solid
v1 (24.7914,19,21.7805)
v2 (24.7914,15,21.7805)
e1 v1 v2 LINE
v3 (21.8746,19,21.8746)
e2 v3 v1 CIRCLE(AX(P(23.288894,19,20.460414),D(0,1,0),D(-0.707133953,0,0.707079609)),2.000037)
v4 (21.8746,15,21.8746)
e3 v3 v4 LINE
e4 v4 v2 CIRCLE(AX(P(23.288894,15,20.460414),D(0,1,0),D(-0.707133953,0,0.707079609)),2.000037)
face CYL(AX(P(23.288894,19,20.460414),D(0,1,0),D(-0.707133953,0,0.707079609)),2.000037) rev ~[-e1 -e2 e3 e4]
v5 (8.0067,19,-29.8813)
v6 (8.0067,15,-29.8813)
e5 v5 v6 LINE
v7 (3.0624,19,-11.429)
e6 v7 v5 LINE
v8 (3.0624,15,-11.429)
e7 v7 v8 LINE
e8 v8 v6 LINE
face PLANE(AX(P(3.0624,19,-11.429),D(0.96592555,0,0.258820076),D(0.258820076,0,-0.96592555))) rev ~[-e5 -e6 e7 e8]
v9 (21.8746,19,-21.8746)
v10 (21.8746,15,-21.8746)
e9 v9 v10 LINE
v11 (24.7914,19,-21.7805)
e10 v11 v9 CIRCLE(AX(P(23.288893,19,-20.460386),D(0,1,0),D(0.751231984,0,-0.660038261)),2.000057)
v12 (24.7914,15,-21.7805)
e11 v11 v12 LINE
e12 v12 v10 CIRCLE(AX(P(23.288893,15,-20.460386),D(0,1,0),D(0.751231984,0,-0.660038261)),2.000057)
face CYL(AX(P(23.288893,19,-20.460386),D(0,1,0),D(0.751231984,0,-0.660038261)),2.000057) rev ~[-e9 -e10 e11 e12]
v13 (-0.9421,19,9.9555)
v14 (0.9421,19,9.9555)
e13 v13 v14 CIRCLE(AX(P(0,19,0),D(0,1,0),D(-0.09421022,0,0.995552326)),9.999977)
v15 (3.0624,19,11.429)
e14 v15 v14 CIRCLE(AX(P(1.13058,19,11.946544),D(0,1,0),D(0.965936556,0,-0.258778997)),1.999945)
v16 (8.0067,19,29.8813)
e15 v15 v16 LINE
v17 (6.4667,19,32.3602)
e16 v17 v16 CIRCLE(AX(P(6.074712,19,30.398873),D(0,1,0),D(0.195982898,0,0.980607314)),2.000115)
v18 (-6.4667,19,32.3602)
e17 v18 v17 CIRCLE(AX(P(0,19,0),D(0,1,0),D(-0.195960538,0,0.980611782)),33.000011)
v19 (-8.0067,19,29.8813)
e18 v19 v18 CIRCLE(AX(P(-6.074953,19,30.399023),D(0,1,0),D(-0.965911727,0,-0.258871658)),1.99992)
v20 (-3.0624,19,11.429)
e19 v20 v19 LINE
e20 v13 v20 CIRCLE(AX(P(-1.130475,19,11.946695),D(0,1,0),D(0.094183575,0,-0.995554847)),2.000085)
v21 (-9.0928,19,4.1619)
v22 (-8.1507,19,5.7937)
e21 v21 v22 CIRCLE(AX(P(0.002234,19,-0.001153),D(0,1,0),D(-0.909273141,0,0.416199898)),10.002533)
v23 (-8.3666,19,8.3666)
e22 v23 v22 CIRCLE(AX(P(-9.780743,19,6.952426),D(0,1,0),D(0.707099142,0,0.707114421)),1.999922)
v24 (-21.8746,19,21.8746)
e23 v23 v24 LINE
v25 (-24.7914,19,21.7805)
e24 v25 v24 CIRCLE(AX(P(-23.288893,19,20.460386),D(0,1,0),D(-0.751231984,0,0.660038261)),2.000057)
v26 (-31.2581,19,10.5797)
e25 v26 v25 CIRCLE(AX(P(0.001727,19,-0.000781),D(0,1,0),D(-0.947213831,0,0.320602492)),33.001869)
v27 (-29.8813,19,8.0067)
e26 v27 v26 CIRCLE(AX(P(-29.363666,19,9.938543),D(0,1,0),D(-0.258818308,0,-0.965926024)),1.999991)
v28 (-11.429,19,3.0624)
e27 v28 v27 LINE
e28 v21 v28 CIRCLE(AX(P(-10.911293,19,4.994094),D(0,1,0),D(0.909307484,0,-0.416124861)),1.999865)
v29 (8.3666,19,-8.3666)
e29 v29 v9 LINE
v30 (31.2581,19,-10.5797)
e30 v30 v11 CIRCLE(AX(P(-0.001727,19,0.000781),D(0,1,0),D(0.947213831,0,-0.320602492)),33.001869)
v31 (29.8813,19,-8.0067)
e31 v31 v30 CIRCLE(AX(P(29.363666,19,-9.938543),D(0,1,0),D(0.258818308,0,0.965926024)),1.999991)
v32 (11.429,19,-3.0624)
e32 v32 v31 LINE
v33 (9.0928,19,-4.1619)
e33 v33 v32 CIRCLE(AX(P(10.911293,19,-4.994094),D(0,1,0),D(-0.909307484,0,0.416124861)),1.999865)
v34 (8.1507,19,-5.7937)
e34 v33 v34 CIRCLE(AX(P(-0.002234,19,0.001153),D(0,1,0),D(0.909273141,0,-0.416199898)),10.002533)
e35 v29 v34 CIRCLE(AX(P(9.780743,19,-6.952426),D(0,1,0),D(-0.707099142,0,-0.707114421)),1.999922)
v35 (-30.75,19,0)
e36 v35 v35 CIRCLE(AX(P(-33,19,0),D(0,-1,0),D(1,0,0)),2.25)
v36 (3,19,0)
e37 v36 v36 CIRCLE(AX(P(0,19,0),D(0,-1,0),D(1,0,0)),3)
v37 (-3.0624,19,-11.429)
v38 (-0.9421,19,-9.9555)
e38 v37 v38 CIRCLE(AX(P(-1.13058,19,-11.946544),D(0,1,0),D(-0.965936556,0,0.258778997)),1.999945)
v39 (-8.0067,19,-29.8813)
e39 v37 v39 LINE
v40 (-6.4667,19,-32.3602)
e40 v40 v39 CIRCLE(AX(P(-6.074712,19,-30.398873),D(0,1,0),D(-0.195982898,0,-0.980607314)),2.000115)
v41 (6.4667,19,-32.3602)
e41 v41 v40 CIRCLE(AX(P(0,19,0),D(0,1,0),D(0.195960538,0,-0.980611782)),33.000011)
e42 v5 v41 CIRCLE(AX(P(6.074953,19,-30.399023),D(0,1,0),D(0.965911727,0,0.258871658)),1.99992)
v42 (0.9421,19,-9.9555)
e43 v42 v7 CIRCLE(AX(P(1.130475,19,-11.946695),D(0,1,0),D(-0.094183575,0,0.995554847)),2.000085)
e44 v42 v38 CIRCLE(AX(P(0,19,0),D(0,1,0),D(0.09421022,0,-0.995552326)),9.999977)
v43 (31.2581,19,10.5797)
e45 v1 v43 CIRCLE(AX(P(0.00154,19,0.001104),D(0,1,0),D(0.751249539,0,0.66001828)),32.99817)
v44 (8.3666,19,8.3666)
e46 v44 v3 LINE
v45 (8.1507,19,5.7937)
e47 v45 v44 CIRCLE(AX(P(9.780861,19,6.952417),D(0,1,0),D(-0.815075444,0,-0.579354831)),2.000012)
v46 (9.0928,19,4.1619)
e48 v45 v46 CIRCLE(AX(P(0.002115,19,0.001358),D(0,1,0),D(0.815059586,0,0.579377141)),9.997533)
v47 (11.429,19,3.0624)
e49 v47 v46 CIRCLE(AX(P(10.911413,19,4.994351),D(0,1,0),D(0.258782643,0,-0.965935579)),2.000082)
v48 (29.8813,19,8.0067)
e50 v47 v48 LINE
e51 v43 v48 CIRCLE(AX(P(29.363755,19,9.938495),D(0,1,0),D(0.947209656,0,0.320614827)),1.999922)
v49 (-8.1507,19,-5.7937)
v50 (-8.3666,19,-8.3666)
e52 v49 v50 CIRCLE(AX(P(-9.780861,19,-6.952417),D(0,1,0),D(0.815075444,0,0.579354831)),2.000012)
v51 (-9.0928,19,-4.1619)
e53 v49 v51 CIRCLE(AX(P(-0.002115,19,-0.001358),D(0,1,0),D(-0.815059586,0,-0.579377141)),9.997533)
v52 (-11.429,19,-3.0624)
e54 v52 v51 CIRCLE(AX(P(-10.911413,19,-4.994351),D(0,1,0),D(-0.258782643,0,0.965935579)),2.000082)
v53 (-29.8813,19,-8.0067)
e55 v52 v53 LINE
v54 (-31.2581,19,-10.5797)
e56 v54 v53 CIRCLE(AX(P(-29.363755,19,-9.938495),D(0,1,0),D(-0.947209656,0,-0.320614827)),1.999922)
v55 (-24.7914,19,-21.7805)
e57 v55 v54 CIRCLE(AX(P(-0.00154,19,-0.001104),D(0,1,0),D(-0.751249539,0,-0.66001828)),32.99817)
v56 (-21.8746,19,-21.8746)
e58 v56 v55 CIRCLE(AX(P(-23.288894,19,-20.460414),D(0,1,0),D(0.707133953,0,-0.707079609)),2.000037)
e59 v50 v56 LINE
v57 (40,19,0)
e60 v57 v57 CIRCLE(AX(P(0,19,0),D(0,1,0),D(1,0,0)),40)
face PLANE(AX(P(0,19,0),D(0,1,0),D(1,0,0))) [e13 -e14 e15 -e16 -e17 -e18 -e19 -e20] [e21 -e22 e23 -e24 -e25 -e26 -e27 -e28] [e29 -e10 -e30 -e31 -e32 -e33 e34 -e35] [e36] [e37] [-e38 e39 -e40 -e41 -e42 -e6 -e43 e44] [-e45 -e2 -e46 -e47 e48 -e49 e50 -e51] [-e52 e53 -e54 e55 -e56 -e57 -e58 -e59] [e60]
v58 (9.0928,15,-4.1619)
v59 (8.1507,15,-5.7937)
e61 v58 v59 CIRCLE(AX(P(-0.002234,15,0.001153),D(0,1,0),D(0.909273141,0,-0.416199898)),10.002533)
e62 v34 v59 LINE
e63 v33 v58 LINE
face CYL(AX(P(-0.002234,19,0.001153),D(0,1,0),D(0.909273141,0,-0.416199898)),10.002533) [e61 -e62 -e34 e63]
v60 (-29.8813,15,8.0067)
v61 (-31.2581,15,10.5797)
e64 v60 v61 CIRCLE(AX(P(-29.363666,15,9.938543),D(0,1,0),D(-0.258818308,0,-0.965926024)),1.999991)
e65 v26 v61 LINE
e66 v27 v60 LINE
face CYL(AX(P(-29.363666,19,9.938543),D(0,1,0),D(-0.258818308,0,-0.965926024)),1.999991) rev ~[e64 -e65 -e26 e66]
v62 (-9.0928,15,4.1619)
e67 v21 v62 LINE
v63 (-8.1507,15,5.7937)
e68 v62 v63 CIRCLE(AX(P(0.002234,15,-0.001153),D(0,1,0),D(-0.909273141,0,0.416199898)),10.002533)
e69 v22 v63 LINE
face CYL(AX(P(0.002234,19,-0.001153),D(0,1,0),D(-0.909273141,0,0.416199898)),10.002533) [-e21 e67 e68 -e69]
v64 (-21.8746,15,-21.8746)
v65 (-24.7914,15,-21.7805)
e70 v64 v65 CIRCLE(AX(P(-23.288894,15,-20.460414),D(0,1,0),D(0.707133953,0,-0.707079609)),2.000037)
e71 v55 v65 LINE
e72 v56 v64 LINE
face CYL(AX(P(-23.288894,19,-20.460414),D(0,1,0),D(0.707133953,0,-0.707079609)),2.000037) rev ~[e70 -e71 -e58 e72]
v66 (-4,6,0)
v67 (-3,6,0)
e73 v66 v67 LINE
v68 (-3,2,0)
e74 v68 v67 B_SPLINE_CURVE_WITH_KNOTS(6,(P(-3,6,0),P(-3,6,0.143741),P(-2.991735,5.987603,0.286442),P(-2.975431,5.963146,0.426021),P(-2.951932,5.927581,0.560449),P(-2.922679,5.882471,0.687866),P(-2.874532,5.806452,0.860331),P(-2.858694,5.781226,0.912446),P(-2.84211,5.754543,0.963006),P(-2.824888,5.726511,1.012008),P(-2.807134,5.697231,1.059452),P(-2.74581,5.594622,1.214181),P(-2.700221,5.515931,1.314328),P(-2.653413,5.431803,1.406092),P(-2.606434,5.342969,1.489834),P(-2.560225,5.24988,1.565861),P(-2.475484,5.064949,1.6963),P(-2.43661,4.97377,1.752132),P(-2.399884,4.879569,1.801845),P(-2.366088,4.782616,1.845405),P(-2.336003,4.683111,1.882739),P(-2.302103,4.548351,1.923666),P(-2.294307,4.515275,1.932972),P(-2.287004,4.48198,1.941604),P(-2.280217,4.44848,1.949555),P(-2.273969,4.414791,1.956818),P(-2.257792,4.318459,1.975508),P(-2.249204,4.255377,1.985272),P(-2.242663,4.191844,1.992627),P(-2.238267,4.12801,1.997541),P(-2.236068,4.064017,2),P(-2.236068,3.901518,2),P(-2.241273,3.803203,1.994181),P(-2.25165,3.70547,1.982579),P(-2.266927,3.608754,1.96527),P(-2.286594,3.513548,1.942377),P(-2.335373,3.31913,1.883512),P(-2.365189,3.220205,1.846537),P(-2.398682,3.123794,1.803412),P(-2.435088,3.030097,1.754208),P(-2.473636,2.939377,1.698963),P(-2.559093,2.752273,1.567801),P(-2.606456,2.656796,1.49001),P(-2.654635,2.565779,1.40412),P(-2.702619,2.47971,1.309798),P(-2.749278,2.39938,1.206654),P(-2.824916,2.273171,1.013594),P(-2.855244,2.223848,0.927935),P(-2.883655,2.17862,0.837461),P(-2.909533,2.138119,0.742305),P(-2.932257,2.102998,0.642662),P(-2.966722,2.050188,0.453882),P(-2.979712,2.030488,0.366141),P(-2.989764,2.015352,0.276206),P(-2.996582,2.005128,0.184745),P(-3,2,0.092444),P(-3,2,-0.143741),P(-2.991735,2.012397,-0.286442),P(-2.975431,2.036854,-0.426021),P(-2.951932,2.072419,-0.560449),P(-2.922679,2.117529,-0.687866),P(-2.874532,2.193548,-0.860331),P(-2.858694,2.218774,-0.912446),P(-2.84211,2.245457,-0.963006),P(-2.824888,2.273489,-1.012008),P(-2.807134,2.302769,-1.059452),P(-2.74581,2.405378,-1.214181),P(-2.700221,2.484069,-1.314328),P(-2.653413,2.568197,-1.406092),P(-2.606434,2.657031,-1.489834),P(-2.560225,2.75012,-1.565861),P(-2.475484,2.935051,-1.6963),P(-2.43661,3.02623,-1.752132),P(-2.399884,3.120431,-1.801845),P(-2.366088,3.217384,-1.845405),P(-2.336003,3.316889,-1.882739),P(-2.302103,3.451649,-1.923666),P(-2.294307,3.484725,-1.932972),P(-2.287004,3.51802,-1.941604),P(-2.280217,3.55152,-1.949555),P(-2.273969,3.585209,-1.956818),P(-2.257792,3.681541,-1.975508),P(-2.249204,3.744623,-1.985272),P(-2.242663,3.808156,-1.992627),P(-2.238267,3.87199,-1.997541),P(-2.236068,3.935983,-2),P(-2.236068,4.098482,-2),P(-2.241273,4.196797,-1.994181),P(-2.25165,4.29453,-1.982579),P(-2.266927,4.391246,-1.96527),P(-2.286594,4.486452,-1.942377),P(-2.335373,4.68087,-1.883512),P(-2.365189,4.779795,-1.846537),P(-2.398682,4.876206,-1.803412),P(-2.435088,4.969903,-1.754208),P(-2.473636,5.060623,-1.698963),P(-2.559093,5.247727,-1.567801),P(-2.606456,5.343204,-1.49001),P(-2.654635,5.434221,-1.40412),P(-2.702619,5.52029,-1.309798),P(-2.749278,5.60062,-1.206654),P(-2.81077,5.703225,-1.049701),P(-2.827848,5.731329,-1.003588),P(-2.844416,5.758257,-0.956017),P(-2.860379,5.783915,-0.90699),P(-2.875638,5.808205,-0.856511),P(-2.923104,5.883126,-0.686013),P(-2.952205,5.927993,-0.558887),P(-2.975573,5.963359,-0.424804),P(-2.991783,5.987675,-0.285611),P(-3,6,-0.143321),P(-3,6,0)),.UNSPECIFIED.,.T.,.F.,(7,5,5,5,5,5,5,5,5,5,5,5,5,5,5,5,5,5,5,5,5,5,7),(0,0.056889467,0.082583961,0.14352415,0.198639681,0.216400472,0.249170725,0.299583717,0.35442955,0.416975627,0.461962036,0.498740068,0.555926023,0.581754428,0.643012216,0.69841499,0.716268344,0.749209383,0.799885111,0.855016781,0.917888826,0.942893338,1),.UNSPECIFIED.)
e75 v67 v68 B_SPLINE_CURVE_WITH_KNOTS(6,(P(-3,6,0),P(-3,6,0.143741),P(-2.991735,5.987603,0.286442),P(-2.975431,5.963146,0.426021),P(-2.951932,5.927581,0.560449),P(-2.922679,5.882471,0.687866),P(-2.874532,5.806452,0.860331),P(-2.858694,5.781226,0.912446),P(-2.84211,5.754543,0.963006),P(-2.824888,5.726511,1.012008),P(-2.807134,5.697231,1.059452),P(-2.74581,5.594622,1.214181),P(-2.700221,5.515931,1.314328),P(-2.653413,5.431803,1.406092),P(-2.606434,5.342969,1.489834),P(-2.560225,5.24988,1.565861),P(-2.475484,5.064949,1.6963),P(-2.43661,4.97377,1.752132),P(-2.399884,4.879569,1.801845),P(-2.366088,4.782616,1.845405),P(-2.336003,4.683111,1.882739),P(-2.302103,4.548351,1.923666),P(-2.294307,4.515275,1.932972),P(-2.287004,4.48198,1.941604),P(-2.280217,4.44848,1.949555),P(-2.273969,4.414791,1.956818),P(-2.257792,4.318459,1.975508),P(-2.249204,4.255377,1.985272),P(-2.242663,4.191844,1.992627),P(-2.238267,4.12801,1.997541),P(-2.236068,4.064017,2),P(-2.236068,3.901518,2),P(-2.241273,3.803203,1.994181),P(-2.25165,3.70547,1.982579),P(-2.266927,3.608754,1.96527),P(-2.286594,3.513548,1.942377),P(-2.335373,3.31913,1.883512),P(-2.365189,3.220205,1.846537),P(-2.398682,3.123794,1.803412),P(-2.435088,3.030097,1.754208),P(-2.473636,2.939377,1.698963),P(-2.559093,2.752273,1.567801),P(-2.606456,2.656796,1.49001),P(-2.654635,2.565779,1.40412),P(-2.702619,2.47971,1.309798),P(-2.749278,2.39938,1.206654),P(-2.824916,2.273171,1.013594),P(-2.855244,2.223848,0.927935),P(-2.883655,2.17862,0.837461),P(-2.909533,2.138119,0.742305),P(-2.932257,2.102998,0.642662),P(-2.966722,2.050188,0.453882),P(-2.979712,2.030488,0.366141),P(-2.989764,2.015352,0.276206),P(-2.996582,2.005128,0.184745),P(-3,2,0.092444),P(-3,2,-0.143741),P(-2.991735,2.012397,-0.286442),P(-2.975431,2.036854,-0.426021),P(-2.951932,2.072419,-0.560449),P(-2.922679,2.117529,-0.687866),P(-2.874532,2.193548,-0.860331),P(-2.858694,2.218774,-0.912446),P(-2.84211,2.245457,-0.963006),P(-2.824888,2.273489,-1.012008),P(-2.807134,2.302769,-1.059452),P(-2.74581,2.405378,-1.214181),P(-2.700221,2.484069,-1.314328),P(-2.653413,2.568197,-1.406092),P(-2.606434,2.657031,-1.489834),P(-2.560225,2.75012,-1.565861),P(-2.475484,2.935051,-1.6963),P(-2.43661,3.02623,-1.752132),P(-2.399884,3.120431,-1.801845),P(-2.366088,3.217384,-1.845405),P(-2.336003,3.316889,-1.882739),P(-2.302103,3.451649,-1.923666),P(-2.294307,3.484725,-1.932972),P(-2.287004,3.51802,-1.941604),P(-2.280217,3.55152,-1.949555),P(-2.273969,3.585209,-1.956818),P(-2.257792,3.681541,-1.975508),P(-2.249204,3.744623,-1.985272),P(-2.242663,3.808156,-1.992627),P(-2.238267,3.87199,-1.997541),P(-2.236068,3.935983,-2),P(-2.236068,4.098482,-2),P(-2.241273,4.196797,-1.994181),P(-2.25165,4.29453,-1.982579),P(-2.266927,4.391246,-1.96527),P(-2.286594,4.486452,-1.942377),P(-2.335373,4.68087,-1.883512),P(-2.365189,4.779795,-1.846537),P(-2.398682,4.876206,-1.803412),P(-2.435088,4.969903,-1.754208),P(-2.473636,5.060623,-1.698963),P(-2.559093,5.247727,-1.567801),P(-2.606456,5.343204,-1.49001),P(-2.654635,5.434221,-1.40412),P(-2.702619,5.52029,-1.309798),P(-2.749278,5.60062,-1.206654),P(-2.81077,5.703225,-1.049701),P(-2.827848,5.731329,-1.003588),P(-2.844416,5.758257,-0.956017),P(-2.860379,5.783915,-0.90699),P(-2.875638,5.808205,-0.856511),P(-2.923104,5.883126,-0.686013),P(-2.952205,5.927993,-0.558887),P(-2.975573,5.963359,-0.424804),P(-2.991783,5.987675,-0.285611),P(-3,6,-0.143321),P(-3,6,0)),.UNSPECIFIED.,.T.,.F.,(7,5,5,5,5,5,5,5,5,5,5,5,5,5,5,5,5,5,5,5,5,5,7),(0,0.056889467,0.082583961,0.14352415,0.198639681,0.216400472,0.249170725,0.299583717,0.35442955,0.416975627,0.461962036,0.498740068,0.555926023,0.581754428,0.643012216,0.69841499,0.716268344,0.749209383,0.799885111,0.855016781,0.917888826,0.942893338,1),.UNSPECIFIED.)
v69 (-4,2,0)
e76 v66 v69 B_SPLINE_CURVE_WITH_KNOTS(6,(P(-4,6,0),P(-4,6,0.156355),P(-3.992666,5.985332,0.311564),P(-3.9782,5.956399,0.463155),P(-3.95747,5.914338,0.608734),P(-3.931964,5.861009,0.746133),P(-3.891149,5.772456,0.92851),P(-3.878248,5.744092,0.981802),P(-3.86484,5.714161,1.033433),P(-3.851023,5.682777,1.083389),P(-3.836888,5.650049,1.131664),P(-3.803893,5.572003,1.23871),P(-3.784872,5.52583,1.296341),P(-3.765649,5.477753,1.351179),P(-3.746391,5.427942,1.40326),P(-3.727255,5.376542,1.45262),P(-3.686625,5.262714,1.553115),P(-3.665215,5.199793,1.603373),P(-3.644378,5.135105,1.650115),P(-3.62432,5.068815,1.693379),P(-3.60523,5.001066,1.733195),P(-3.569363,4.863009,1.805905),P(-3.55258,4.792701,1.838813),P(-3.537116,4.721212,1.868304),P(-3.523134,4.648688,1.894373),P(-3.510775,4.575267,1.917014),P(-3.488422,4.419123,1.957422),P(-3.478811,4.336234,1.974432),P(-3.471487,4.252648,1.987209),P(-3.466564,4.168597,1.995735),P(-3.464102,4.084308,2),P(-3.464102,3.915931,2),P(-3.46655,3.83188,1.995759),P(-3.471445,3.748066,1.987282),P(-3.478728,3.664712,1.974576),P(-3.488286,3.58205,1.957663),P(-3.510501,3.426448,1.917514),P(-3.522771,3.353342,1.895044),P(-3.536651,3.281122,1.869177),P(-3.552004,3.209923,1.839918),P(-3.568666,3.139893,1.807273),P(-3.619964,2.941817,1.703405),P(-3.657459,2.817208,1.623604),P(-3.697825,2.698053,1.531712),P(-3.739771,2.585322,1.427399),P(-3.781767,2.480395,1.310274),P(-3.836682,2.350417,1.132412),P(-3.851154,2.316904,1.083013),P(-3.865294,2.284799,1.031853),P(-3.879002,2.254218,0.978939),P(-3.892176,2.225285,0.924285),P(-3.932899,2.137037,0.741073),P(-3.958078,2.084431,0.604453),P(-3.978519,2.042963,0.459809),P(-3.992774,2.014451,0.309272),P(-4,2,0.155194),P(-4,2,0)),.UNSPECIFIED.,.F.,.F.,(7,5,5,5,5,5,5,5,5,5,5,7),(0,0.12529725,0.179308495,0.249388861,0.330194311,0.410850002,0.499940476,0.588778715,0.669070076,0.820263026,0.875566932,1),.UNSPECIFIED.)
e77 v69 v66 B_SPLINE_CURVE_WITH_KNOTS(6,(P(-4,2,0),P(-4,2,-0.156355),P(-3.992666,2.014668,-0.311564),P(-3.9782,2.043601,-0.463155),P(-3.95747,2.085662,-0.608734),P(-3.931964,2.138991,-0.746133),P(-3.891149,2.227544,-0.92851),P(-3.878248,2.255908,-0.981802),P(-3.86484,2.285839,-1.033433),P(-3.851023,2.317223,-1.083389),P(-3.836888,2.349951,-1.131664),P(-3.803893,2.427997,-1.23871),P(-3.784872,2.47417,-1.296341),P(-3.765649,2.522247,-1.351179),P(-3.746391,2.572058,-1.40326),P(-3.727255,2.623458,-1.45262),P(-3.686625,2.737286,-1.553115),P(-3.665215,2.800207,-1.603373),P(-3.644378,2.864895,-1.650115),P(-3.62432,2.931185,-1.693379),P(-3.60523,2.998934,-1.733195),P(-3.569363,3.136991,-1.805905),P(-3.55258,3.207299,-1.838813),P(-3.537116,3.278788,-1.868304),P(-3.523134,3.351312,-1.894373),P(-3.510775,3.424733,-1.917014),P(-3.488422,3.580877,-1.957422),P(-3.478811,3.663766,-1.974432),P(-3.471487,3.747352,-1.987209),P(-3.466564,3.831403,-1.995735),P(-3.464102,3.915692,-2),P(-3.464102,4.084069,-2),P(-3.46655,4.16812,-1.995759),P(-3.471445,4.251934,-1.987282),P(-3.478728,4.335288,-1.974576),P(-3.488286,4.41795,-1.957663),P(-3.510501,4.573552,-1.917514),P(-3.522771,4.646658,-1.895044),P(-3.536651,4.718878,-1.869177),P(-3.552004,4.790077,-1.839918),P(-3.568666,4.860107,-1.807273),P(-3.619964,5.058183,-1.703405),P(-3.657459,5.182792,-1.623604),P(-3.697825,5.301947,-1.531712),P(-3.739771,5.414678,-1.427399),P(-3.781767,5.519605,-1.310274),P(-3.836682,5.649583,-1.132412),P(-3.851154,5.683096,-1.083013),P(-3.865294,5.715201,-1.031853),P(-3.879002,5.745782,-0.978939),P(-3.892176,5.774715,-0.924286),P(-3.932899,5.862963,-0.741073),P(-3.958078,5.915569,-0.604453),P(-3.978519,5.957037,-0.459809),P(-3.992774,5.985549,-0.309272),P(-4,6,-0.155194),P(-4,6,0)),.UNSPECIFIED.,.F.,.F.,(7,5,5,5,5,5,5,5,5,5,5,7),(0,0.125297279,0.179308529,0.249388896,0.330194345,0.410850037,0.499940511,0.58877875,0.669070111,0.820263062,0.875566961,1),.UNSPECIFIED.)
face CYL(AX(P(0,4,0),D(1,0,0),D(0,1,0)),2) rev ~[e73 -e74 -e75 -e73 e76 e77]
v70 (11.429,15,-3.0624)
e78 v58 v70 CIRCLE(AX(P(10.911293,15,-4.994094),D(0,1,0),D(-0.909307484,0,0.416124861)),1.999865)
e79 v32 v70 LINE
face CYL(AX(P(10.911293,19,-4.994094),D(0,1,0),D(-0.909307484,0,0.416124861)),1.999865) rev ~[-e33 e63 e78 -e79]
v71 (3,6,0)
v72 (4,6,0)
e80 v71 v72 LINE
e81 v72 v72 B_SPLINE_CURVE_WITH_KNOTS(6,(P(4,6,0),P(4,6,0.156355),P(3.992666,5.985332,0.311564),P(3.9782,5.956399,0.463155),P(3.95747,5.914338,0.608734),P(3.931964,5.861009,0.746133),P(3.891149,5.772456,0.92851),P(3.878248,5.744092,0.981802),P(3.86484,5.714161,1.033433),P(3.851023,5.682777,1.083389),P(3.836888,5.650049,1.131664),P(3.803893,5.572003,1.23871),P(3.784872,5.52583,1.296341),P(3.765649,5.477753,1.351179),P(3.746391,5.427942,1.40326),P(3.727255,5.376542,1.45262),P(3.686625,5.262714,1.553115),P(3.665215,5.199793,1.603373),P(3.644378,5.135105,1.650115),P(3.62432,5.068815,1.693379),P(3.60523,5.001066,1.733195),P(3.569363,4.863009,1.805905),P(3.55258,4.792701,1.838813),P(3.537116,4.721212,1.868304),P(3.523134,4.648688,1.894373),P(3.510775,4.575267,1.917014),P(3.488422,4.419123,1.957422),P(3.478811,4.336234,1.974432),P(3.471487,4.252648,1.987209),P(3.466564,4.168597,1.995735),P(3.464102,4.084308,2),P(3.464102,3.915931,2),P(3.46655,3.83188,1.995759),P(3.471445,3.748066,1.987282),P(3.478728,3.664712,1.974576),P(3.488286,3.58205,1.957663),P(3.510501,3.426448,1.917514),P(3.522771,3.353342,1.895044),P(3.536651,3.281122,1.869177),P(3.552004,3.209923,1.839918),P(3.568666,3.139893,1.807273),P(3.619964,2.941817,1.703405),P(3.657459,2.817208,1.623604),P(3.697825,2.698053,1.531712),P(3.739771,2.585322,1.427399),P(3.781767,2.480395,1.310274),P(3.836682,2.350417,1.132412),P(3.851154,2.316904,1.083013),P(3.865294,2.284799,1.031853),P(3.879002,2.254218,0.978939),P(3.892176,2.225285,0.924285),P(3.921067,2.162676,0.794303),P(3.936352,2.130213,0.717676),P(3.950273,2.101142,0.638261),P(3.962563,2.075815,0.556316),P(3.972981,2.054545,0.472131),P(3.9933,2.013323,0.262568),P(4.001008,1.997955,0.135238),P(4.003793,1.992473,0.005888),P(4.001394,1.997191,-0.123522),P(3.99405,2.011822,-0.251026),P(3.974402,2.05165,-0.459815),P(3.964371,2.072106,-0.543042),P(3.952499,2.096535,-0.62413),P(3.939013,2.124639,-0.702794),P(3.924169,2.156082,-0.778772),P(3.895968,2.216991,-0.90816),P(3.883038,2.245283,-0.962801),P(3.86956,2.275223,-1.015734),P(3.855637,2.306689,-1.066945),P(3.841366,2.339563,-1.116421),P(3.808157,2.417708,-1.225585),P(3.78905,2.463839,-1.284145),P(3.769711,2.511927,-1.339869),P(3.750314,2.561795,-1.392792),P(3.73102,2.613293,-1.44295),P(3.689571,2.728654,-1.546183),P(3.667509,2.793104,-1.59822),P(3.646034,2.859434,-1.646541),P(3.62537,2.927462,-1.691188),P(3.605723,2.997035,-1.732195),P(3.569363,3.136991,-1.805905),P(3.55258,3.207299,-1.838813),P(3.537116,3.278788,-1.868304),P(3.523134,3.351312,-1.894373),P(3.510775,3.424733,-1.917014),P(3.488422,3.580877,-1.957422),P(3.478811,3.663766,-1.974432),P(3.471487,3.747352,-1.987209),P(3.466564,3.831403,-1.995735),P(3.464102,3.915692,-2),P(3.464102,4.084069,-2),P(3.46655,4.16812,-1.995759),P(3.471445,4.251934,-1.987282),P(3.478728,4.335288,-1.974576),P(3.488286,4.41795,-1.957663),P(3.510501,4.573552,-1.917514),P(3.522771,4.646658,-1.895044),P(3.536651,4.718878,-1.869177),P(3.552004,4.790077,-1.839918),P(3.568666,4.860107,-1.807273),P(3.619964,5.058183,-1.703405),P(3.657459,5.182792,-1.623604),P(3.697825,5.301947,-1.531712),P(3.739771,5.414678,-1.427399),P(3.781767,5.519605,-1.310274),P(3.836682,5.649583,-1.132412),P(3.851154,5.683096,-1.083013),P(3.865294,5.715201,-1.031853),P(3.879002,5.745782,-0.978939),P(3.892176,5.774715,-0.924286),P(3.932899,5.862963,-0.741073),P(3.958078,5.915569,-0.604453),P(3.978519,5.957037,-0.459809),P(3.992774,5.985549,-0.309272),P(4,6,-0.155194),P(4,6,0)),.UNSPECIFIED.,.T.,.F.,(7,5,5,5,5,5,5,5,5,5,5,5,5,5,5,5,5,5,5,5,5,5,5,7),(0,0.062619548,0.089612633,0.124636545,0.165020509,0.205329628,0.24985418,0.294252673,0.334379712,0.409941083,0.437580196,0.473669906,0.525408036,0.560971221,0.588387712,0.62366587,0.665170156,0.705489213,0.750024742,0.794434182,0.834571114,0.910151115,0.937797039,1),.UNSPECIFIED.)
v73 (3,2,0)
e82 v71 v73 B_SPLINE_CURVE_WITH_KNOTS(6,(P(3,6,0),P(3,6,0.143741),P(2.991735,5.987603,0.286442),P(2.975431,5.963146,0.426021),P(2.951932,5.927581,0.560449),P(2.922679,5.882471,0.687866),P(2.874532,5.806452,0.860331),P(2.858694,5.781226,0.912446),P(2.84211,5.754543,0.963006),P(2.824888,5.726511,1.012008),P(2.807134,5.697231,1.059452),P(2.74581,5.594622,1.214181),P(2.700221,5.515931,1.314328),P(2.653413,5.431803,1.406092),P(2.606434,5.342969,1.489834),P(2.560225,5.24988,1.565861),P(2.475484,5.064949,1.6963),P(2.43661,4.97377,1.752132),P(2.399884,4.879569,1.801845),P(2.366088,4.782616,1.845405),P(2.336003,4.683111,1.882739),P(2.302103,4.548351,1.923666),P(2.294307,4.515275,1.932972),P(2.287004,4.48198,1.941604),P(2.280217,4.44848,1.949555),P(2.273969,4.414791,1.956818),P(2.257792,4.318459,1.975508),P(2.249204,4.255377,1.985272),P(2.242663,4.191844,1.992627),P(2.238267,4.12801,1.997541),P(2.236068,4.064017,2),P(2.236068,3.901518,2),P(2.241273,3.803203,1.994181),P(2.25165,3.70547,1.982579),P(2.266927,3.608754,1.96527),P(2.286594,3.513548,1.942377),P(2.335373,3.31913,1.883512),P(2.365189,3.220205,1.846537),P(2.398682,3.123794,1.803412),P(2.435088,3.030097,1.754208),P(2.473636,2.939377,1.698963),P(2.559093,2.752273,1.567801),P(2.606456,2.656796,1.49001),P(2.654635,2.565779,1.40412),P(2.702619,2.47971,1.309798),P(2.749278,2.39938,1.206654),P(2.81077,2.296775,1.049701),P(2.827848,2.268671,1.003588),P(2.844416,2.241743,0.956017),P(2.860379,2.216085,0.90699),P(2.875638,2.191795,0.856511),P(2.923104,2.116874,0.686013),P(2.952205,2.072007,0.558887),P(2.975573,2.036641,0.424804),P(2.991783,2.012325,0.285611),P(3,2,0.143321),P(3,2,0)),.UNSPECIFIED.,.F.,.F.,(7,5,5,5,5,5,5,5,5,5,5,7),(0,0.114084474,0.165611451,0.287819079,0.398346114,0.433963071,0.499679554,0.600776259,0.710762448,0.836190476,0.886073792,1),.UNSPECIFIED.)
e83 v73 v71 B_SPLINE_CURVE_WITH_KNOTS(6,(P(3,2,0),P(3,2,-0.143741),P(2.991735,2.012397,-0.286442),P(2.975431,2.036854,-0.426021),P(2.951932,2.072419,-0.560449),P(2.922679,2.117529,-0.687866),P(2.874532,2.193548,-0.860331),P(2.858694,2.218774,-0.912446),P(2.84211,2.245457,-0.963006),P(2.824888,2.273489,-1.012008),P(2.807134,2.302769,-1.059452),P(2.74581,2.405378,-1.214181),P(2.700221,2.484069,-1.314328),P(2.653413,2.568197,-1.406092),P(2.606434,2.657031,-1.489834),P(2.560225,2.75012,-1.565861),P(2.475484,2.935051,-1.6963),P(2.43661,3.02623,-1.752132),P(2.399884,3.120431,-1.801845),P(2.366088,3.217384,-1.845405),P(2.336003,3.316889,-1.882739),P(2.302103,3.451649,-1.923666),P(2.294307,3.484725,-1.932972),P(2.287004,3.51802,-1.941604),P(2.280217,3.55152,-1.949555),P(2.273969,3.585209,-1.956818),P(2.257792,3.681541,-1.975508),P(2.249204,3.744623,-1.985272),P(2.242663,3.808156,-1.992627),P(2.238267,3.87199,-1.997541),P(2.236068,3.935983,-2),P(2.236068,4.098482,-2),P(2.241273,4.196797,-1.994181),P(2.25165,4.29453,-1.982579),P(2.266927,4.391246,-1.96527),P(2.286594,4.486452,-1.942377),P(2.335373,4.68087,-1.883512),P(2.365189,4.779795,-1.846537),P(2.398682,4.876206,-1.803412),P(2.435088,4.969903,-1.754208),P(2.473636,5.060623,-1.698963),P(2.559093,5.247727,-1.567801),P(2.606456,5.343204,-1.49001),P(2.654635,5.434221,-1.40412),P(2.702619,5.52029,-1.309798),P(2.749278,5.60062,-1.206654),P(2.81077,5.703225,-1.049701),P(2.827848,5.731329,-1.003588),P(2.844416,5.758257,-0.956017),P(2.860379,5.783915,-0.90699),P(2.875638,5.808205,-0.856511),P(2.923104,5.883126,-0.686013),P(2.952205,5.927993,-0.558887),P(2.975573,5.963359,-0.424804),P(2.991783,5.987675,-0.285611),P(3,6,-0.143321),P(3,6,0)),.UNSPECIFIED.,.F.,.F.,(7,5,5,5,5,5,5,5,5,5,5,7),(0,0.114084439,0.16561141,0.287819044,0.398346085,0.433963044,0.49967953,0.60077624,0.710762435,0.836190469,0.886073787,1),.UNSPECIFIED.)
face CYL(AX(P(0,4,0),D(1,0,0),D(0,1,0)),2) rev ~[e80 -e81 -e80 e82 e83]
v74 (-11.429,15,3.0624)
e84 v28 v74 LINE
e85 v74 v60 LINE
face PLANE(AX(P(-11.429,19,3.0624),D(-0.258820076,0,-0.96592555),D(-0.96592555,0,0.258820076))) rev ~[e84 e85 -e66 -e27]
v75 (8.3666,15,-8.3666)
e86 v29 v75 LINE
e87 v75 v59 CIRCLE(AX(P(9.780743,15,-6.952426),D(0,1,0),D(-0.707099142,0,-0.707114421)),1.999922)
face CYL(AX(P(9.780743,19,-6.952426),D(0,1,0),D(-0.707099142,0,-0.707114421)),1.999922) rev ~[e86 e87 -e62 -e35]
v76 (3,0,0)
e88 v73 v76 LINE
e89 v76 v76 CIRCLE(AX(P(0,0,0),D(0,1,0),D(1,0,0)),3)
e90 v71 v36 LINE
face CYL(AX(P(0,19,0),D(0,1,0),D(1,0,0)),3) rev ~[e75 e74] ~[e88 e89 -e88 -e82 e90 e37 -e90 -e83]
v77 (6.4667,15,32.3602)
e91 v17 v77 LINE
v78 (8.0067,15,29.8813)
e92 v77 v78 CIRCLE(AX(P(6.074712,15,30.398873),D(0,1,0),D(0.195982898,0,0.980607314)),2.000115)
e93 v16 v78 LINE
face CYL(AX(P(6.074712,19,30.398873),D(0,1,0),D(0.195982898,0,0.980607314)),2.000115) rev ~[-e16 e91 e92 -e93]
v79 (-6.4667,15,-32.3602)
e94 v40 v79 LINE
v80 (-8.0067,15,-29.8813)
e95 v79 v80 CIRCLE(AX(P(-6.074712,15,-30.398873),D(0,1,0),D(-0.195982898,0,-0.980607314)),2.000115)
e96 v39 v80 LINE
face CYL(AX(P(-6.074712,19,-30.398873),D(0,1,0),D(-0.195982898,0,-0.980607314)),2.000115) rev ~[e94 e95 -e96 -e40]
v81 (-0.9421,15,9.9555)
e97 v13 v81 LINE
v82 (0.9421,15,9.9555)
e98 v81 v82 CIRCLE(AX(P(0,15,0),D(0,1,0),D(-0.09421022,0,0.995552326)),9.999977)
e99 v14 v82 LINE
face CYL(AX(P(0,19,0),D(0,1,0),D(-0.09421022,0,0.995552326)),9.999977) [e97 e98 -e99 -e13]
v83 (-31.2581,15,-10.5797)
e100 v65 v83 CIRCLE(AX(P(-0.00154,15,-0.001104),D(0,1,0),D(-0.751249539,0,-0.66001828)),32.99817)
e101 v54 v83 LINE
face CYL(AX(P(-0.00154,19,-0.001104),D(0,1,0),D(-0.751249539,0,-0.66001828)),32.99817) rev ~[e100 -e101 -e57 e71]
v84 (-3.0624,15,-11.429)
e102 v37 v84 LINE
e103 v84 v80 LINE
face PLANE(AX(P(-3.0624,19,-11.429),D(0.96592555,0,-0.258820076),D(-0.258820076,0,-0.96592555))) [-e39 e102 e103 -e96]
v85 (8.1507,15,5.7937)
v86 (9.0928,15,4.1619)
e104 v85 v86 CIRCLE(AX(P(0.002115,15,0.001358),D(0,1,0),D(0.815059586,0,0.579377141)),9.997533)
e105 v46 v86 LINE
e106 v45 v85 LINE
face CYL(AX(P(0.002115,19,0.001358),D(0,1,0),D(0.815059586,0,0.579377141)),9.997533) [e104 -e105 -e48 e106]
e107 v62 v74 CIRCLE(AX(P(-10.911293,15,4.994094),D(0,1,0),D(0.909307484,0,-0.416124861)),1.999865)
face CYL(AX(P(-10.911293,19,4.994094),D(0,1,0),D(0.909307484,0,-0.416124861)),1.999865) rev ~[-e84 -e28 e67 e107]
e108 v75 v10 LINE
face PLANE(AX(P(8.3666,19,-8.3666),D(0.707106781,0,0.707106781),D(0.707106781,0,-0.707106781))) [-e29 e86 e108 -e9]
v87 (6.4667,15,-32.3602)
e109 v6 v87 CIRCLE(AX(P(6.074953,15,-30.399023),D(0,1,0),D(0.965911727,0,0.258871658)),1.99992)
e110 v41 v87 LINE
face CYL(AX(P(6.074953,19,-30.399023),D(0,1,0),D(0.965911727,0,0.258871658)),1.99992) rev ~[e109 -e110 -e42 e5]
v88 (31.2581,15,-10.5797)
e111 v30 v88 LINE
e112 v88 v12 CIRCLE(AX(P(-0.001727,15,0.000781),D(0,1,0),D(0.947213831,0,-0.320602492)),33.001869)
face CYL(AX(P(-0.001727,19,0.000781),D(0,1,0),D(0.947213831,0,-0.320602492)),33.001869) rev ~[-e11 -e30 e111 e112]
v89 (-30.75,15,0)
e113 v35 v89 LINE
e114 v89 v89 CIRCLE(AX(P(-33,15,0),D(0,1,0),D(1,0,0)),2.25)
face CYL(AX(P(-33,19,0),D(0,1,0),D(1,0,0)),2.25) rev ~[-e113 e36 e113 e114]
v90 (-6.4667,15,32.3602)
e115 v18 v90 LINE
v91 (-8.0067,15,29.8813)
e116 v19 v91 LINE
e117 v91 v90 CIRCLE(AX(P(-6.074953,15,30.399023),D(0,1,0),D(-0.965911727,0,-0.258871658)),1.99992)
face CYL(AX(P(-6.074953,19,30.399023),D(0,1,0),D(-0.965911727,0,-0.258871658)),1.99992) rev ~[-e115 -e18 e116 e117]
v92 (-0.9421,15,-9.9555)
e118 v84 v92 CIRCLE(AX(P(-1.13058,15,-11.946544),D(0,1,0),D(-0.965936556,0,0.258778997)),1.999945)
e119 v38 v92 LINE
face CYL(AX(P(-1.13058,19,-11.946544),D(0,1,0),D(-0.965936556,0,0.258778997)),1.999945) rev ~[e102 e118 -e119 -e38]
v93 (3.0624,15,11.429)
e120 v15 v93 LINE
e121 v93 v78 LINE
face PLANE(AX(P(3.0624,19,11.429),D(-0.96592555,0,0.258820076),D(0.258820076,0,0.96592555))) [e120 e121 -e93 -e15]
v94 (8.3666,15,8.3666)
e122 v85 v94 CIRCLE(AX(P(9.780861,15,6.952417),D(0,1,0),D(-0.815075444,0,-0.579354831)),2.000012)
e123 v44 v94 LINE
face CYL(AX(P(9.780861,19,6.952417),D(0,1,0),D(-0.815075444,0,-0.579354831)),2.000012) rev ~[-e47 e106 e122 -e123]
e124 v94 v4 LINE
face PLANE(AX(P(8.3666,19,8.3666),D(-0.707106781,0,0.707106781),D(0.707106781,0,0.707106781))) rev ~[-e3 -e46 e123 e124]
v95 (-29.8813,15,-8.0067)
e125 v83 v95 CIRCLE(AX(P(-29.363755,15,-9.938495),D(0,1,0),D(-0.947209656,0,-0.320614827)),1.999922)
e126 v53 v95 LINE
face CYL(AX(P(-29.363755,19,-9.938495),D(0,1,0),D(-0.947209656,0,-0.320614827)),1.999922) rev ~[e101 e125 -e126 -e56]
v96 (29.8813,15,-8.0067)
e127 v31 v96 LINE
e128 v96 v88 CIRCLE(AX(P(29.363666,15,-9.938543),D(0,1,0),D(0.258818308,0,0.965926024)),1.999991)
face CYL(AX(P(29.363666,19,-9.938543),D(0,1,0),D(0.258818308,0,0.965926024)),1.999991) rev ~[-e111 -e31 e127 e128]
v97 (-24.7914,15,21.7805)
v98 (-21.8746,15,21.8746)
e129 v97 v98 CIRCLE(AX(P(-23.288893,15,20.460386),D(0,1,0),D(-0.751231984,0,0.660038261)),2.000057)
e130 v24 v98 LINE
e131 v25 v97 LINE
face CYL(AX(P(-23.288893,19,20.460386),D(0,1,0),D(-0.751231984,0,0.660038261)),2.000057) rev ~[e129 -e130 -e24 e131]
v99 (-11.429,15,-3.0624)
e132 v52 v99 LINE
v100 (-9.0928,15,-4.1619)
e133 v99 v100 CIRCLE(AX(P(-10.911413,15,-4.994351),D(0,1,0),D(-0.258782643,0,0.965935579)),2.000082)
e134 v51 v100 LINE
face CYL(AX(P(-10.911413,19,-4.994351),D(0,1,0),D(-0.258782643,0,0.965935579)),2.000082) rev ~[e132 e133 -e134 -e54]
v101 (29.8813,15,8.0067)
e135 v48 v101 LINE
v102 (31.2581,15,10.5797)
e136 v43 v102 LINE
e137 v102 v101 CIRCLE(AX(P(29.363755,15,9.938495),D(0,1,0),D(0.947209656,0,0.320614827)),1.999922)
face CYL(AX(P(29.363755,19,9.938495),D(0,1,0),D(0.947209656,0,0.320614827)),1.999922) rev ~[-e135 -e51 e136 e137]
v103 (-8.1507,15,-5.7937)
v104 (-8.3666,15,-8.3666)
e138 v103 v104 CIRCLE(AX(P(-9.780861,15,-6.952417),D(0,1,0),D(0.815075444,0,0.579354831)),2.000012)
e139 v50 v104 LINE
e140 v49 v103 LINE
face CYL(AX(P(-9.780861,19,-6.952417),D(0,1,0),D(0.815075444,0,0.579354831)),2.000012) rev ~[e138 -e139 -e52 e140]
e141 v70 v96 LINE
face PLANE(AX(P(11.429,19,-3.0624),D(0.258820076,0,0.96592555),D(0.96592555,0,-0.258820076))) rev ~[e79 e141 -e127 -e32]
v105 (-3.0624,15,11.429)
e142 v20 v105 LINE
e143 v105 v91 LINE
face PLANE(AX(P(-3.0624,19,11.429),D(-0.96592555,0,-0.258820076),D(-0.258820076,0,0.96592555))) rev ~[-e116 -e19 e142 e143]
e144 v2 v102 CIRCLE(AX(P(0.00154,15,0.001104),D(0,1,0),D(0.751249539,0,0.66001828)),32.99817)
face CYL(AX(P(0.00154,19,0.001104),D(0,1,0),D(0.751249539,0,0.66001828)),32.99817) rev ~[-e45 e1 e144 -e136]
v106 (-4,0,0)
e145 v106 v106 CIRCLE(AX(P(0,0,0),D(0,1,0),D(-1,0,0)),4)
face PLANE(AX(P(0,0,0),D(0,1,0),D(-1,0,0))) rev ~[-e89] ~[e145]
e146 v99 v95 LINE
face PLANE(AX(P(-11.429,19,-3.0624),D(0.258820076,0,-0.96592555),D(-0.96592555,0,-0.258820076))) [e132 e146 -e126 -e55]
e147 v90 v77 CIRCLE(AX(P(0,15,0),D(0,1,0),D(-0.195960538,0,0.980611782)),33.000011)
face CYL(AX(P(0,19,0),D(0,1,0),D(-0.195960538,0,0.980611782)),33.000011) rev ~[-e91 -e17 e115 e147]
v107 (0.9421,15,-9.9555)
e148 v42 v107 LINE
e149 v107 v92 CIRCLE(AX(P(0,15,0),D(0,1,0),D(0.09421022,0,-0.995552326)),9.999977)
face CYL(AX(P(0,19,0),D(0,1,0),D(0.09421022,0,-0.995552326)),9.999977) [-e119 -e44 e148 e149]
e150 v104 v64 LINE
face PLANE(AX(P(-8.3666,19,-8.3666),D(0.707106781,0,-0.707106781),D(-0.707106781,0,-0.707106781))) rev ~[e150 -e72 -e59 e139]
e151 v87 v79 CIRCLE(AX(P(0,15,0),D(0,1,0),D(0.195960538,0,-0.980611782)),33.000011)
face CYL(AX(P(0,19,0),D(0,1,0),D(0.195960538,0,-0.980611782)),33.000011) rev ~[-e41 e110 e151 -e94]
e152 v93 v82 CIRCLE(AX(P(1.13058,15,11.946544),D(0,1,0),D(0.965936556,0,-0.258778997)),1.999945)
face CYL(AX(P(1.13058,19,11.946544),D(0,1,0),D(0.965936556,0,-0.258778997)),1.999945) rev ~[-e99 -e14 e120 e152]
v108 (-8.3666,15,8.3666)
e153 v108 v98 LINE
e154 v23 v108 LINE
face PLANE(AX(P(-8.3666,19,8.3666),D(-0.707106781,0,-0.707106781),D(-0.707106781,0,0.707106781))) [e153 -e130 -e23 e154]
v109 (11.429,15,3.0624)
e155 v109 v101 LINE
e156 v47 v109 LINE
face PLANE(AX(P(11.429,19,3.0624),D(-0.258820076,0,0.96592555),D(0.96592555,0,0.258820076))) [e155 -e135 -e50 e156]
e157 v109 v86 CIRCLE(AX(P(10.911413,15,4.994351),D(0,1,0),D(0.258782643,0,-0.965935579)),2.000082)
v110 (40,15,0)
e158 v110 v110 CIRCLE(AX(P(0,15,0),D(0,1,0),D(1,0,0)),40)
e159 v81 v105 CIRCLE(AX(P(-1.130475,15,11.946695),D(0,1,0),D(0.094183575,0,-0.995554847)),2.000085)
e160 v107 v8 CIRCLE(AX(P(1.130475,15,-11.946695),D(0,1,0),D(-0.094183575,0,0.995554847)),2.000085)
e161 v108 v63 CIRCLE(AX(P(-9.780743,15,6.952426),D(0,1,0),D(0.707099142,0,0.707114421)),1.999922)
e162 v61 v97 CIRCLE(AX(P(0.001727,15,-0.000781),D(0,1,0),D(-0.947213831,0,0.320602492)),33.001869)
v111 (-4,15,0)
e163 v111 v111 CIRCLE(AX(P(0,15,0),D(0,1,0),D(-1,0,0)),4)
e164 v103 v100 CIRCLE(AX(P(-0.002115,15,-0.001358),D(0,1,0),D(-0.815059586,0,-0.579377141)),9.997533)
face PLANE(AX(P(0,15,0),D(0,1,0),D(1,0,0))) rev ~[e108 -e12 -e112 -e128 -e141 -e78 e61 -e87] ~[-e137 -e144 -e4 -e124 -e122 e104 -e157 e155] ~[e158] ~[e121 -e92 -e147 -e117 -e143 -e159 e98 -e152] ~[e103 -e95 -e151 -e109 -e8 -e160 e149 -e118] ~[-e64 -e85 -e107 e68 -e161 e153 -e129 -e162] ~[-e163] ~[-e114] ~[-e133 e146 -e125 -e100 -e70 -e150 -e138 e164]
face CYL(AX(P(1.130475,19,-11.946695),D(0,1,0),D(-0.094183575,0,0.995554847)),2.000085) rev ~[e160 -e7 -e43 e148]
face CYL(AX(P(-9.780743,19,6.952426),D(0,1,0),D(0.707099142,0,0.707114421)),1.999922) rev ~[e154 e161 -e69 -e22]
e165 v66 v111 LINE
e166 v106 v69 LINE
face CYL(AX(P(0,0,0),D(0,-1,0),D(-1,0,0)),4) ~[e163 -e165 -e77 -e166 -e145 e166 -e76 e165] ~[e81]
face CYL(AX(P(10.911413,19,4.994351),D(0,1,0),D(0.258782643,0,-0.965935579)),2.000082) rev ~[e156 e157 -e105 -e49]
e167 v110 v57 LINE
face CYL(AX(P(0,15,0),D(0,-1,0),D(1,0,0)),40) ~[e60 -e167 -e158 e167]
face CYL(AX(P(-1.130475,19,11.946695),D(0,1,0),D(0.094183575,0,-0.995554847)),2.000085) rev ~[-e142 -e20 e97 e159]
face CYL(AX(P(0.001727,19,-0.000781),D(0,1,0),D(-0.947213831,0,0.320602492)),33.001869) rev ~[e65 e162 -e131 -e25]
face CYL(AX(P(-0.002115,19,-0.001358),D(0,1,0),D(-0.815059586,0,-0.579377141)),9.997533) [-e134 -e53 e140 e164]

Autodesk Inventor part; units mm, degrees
ref_plane "YZ Plane" through (0, 0, 0) normal (1, 0, 0) x (0, 1, 0)
ref_plane "XZ Plane" through (0, 0, 0) normal (0, 1, 0) x (-1, 0, 0)
ref_plane "XY Plane" through (0, 0, 0) normal (0, 0, 1) x (1, 0, 0)
sketch "Sketch1" plane through (0, 0, 0) normal (0, 1, 0) x (-1, 0, 0)
  circle A0 centre (0, 0) radius 4
  dimension "d0" = 8
extrude "Extrusion1" add sketch "Sketch1" along normal blind 15
sketch "Sketch2" plane through (0, 15, 0) normal (0, 1, 0) x (1, 0, 0)
  circle A0 centre (0, 0) radius 3
  dimension "d3" = 6
extrude "Extrusion2" cut sketch "Sketch2" against normal blind 13
sketch "Sketch3" plane through (0, 0, 0) normal (1, 0, 0) x (0, 1, 0)
  line L0 (15, -4) -> (15, 4) projected
  circle A0 centre (4, 0) radius 2
  line L1 (0, -4) -> (0, 4) projected
  point P0 (0, 0)
  dimension "d8" = 4
  dimension "d9" = 4
extrude "Extrusion3" cut sketch "Sketch3" against normal through all both and the other way through all
sketch "Sketch9" plane through (0, 15, 0) normal (0, 1, 0) x (1, 0, 0)
  circle A0 centre (0, 0) radius 40
  dimension "d47" = 80
extrude "Extrusion8" add sketch "Sketch9" along normal blind 4
sketch "Sketch10" plane through (0, 19, 0) normal (0, 1, 0) x (1, 0, 0)
  circle A0 centre (0, 0) radius 3
  circle A1 centre (-33, 0) radius 2.25
  arc A2 (3, 0) -> (-3, 0) centre (0, 0) ccw projected
  line L0 (0, 0) -> (-40, 0)
  circle A3 centre (0, 0) radius 4 projected
  arc A4 (-31.2581, -10.5797) -> (-24.7914, -21.7805) centre (0, 0) ccw
  arc A5 (-29.8813, -8.0067) -> (-31.2581, -10.5797) centre (-29.3637, -9.9385) ccw
  arc A6 (-24.7914, -21.7805) -> (-21.8746, -21.8746) centre (-23.2889, -20.4604) ccw
  arc A7 (-9.0928, -4.1619) -> (-8.1507, -5.7937) centre (0, 0) ccw
  line L1 (-8.3666, -8.3666) -> (-21.8746, -21.8746)
  line L2 (-11.429, -3.0624) -> (-29.8813, -8.0067)
  arc A8 (-8.3666, -8.3666) -> (-8.1507, -5.7937) centre (-9.7808, -6.9524) ccw
  arc A9 (-9.0928, -4.1619) -> (-11.429, -3.0624) centre (-10.9114, -4.9942) ccw
  arc A10 (-6.4667, -32.3602) -> (6.4667, -32.3602) centre (0, 0) ccw
  line L3 (-3.0624, -11.429) -> (-8.0067, -29.8813)
  arc A11 (-0.9421, -9.9555) -> (-3.0624, -11.429) centre (-1.1305, -11.9466) ccw
  line L4 (3.0624, -11.429) -> (8.0067, -29.8813)
  arc A12 (-0.9421, -9.9555) -> (0.9421, -9.9555) centre (0, 0) ccw
  arc A13 (3.0624, -11.429) -> (0.9421, -9.9555) centre (1.1305, -11.9466) ccw
  arc A14 (6.4667, -32.3602) -> (8.0067, -29.8813) centre (6.0748, -30.399) ccw
  arc A15 (-8.0067, -29.8813) -> (-6.4667, -32.3602) centre (-6.0748, -30.399) ccw
  arc A16 (24.7914, -21.7805) -> (31.2581, -10.5797) centre (0, 0) ccw
  line L5 (8.3666, -8.3666) -> (21.8746, -21.8746)
  arc A17 (8.1507, -5.7937) -> (8.3666, -8.3666) centre (9.7808, -6.9524) ccw
  line L6 (11.429, -3.0624) -> (29.8813, -8.0067)
  arc A18 (8.1507, -5.7937) -> (9.0928, -4.1619) centre (0, 0) ccw
  arc A19 (11.429, -3.0624) -> (9.0928, -4.1619) centre (10.9114, -4.9942) ccw
  arc A20 (31.2581, -10.5797) -> (29.8813, -8.0067) centre (29.3637, -9.9385) ccw
  arc A21 (21.8746, -21.8746) -> (24.7914, -21.7805) centre (23.2889, -20.4604) ccw
  arc A22 (31.2581, 10.5797) -> (24.7914, 21.7805) centre (0, 0) ccw
  line L7 (11.429, 3.0624) -> (29.8813, 8.0067)
  arc A23 (9.0928, 4.1619) -> (11.429, 3.0624) centre (10.9114, 4.9942) ccw
  line L8 (8.3666, 8.3666) -> (21.8746, 21.8746)
  arc A24 (9.0928, 4.1619) -> (8.1507, 5.7937) centre (0, 0) ccw
  arc A25 (8.3666, 8.3666) -> (8.1507, 5.7937) centre (9.7808, 6.9524) ccw
  arc A26 (24.7914, 21.7805) -> (21.8746, 21.8746) centre (23.2889, 20.4604) ccw
  arc A27 (29.8813, 8.0067) -> (31.2581, 10.5797) centre (29.3637, 9.9385) ccw
  arc A28 (6.4667, 32.3602) -> (-6.4667, 32.3602) centre (0, 0) ccw
  line L9 (3.0624, 11.429) -> (8.0067, 29.8813)
  arc A29 (0.9421, 9.9555) -> (3.0624, 11.429) centre (1.1305, 11.9466) ccw
  line L10 (-3.0624, 11.429) -> (-8.0067, 29.8813)
  arc A30 (0.9421, 9.9555) -> (-0.9421, 9.9555) centre (0, 0) ccw
  arc A31 (-3.0624, 11.429) -> (-0.9421, 9.9555) centre (-1.1305, 11.9466) ccw
  arc A32 (-6.4667, 32.3602) -> (-8.0067, 29.8813) centre (-6.0748, 30.399) ccw
  arc A33 (8.0067, 29.8813) -> (6.4667, 32.3602) centre (6.0748, 30.399) ccw
  arc A34 (-24.7914, 21.7805) -> (-31.2581, 10.5797) centre (0, 0) ccw
  line L11 (-8.3666, 8.3666) -> (-21.8746, 21.8746)
  arc A35 (-8.1507, 5.7937) -> (-8.3666, 8.3666) centre (-9.7808, 6.9524) ccw
  line L12 (-11.429, 3.0624) -> (-29.8813, 8.0067)
  arc A36 (-8.1507, 5.7937) -> (-9.0928, 4.1619) centre (0, 0) ccw
  arc A37 (-11.429, 3.0624) -> (-9.0928, 4.1619) centre (-10.9114, 4.9942) ccw
  arc A38 (-31.2581, 10.5797) -> (-29.8813, 8.0067) centre (-29.3637, 9.9385) ccw
  arc A39 (-21.8746, 21.8746) -> (-24.7914, 21.7805) centre (-23.2889, 20.4604) ccw
  point P0 (-31.8756, -8.541)
  point P1 (-23.3345, -23.3345)
  point P2 (-9.6593, -2.5882)
  point P3 (-7.0711, -7.0711)
  dimension "d54" = 4.5
  dimension "d62" = 2
  dimension "d63" = 2
  dimension "d66" = 360
extrude "Extrusion9" cut sketch "Sketch10" against normal through all contours A0 | A1 L0 | L0 A1 | A5 L2 A9 A7 A8 L1 A6 A4 | A15 L3 A11 A12 A13 L4 A14 A10 | A21 L5 A17 A18 A19 L6 A20 A16 | A27 L7 A23 A24 A25 L8 A26 A22 | A33 L9 A29 A30 A31 L10 A32 A28 | A39 L11 A35 A36 A37 L12 A38 A34
properties part number "trục quay"
